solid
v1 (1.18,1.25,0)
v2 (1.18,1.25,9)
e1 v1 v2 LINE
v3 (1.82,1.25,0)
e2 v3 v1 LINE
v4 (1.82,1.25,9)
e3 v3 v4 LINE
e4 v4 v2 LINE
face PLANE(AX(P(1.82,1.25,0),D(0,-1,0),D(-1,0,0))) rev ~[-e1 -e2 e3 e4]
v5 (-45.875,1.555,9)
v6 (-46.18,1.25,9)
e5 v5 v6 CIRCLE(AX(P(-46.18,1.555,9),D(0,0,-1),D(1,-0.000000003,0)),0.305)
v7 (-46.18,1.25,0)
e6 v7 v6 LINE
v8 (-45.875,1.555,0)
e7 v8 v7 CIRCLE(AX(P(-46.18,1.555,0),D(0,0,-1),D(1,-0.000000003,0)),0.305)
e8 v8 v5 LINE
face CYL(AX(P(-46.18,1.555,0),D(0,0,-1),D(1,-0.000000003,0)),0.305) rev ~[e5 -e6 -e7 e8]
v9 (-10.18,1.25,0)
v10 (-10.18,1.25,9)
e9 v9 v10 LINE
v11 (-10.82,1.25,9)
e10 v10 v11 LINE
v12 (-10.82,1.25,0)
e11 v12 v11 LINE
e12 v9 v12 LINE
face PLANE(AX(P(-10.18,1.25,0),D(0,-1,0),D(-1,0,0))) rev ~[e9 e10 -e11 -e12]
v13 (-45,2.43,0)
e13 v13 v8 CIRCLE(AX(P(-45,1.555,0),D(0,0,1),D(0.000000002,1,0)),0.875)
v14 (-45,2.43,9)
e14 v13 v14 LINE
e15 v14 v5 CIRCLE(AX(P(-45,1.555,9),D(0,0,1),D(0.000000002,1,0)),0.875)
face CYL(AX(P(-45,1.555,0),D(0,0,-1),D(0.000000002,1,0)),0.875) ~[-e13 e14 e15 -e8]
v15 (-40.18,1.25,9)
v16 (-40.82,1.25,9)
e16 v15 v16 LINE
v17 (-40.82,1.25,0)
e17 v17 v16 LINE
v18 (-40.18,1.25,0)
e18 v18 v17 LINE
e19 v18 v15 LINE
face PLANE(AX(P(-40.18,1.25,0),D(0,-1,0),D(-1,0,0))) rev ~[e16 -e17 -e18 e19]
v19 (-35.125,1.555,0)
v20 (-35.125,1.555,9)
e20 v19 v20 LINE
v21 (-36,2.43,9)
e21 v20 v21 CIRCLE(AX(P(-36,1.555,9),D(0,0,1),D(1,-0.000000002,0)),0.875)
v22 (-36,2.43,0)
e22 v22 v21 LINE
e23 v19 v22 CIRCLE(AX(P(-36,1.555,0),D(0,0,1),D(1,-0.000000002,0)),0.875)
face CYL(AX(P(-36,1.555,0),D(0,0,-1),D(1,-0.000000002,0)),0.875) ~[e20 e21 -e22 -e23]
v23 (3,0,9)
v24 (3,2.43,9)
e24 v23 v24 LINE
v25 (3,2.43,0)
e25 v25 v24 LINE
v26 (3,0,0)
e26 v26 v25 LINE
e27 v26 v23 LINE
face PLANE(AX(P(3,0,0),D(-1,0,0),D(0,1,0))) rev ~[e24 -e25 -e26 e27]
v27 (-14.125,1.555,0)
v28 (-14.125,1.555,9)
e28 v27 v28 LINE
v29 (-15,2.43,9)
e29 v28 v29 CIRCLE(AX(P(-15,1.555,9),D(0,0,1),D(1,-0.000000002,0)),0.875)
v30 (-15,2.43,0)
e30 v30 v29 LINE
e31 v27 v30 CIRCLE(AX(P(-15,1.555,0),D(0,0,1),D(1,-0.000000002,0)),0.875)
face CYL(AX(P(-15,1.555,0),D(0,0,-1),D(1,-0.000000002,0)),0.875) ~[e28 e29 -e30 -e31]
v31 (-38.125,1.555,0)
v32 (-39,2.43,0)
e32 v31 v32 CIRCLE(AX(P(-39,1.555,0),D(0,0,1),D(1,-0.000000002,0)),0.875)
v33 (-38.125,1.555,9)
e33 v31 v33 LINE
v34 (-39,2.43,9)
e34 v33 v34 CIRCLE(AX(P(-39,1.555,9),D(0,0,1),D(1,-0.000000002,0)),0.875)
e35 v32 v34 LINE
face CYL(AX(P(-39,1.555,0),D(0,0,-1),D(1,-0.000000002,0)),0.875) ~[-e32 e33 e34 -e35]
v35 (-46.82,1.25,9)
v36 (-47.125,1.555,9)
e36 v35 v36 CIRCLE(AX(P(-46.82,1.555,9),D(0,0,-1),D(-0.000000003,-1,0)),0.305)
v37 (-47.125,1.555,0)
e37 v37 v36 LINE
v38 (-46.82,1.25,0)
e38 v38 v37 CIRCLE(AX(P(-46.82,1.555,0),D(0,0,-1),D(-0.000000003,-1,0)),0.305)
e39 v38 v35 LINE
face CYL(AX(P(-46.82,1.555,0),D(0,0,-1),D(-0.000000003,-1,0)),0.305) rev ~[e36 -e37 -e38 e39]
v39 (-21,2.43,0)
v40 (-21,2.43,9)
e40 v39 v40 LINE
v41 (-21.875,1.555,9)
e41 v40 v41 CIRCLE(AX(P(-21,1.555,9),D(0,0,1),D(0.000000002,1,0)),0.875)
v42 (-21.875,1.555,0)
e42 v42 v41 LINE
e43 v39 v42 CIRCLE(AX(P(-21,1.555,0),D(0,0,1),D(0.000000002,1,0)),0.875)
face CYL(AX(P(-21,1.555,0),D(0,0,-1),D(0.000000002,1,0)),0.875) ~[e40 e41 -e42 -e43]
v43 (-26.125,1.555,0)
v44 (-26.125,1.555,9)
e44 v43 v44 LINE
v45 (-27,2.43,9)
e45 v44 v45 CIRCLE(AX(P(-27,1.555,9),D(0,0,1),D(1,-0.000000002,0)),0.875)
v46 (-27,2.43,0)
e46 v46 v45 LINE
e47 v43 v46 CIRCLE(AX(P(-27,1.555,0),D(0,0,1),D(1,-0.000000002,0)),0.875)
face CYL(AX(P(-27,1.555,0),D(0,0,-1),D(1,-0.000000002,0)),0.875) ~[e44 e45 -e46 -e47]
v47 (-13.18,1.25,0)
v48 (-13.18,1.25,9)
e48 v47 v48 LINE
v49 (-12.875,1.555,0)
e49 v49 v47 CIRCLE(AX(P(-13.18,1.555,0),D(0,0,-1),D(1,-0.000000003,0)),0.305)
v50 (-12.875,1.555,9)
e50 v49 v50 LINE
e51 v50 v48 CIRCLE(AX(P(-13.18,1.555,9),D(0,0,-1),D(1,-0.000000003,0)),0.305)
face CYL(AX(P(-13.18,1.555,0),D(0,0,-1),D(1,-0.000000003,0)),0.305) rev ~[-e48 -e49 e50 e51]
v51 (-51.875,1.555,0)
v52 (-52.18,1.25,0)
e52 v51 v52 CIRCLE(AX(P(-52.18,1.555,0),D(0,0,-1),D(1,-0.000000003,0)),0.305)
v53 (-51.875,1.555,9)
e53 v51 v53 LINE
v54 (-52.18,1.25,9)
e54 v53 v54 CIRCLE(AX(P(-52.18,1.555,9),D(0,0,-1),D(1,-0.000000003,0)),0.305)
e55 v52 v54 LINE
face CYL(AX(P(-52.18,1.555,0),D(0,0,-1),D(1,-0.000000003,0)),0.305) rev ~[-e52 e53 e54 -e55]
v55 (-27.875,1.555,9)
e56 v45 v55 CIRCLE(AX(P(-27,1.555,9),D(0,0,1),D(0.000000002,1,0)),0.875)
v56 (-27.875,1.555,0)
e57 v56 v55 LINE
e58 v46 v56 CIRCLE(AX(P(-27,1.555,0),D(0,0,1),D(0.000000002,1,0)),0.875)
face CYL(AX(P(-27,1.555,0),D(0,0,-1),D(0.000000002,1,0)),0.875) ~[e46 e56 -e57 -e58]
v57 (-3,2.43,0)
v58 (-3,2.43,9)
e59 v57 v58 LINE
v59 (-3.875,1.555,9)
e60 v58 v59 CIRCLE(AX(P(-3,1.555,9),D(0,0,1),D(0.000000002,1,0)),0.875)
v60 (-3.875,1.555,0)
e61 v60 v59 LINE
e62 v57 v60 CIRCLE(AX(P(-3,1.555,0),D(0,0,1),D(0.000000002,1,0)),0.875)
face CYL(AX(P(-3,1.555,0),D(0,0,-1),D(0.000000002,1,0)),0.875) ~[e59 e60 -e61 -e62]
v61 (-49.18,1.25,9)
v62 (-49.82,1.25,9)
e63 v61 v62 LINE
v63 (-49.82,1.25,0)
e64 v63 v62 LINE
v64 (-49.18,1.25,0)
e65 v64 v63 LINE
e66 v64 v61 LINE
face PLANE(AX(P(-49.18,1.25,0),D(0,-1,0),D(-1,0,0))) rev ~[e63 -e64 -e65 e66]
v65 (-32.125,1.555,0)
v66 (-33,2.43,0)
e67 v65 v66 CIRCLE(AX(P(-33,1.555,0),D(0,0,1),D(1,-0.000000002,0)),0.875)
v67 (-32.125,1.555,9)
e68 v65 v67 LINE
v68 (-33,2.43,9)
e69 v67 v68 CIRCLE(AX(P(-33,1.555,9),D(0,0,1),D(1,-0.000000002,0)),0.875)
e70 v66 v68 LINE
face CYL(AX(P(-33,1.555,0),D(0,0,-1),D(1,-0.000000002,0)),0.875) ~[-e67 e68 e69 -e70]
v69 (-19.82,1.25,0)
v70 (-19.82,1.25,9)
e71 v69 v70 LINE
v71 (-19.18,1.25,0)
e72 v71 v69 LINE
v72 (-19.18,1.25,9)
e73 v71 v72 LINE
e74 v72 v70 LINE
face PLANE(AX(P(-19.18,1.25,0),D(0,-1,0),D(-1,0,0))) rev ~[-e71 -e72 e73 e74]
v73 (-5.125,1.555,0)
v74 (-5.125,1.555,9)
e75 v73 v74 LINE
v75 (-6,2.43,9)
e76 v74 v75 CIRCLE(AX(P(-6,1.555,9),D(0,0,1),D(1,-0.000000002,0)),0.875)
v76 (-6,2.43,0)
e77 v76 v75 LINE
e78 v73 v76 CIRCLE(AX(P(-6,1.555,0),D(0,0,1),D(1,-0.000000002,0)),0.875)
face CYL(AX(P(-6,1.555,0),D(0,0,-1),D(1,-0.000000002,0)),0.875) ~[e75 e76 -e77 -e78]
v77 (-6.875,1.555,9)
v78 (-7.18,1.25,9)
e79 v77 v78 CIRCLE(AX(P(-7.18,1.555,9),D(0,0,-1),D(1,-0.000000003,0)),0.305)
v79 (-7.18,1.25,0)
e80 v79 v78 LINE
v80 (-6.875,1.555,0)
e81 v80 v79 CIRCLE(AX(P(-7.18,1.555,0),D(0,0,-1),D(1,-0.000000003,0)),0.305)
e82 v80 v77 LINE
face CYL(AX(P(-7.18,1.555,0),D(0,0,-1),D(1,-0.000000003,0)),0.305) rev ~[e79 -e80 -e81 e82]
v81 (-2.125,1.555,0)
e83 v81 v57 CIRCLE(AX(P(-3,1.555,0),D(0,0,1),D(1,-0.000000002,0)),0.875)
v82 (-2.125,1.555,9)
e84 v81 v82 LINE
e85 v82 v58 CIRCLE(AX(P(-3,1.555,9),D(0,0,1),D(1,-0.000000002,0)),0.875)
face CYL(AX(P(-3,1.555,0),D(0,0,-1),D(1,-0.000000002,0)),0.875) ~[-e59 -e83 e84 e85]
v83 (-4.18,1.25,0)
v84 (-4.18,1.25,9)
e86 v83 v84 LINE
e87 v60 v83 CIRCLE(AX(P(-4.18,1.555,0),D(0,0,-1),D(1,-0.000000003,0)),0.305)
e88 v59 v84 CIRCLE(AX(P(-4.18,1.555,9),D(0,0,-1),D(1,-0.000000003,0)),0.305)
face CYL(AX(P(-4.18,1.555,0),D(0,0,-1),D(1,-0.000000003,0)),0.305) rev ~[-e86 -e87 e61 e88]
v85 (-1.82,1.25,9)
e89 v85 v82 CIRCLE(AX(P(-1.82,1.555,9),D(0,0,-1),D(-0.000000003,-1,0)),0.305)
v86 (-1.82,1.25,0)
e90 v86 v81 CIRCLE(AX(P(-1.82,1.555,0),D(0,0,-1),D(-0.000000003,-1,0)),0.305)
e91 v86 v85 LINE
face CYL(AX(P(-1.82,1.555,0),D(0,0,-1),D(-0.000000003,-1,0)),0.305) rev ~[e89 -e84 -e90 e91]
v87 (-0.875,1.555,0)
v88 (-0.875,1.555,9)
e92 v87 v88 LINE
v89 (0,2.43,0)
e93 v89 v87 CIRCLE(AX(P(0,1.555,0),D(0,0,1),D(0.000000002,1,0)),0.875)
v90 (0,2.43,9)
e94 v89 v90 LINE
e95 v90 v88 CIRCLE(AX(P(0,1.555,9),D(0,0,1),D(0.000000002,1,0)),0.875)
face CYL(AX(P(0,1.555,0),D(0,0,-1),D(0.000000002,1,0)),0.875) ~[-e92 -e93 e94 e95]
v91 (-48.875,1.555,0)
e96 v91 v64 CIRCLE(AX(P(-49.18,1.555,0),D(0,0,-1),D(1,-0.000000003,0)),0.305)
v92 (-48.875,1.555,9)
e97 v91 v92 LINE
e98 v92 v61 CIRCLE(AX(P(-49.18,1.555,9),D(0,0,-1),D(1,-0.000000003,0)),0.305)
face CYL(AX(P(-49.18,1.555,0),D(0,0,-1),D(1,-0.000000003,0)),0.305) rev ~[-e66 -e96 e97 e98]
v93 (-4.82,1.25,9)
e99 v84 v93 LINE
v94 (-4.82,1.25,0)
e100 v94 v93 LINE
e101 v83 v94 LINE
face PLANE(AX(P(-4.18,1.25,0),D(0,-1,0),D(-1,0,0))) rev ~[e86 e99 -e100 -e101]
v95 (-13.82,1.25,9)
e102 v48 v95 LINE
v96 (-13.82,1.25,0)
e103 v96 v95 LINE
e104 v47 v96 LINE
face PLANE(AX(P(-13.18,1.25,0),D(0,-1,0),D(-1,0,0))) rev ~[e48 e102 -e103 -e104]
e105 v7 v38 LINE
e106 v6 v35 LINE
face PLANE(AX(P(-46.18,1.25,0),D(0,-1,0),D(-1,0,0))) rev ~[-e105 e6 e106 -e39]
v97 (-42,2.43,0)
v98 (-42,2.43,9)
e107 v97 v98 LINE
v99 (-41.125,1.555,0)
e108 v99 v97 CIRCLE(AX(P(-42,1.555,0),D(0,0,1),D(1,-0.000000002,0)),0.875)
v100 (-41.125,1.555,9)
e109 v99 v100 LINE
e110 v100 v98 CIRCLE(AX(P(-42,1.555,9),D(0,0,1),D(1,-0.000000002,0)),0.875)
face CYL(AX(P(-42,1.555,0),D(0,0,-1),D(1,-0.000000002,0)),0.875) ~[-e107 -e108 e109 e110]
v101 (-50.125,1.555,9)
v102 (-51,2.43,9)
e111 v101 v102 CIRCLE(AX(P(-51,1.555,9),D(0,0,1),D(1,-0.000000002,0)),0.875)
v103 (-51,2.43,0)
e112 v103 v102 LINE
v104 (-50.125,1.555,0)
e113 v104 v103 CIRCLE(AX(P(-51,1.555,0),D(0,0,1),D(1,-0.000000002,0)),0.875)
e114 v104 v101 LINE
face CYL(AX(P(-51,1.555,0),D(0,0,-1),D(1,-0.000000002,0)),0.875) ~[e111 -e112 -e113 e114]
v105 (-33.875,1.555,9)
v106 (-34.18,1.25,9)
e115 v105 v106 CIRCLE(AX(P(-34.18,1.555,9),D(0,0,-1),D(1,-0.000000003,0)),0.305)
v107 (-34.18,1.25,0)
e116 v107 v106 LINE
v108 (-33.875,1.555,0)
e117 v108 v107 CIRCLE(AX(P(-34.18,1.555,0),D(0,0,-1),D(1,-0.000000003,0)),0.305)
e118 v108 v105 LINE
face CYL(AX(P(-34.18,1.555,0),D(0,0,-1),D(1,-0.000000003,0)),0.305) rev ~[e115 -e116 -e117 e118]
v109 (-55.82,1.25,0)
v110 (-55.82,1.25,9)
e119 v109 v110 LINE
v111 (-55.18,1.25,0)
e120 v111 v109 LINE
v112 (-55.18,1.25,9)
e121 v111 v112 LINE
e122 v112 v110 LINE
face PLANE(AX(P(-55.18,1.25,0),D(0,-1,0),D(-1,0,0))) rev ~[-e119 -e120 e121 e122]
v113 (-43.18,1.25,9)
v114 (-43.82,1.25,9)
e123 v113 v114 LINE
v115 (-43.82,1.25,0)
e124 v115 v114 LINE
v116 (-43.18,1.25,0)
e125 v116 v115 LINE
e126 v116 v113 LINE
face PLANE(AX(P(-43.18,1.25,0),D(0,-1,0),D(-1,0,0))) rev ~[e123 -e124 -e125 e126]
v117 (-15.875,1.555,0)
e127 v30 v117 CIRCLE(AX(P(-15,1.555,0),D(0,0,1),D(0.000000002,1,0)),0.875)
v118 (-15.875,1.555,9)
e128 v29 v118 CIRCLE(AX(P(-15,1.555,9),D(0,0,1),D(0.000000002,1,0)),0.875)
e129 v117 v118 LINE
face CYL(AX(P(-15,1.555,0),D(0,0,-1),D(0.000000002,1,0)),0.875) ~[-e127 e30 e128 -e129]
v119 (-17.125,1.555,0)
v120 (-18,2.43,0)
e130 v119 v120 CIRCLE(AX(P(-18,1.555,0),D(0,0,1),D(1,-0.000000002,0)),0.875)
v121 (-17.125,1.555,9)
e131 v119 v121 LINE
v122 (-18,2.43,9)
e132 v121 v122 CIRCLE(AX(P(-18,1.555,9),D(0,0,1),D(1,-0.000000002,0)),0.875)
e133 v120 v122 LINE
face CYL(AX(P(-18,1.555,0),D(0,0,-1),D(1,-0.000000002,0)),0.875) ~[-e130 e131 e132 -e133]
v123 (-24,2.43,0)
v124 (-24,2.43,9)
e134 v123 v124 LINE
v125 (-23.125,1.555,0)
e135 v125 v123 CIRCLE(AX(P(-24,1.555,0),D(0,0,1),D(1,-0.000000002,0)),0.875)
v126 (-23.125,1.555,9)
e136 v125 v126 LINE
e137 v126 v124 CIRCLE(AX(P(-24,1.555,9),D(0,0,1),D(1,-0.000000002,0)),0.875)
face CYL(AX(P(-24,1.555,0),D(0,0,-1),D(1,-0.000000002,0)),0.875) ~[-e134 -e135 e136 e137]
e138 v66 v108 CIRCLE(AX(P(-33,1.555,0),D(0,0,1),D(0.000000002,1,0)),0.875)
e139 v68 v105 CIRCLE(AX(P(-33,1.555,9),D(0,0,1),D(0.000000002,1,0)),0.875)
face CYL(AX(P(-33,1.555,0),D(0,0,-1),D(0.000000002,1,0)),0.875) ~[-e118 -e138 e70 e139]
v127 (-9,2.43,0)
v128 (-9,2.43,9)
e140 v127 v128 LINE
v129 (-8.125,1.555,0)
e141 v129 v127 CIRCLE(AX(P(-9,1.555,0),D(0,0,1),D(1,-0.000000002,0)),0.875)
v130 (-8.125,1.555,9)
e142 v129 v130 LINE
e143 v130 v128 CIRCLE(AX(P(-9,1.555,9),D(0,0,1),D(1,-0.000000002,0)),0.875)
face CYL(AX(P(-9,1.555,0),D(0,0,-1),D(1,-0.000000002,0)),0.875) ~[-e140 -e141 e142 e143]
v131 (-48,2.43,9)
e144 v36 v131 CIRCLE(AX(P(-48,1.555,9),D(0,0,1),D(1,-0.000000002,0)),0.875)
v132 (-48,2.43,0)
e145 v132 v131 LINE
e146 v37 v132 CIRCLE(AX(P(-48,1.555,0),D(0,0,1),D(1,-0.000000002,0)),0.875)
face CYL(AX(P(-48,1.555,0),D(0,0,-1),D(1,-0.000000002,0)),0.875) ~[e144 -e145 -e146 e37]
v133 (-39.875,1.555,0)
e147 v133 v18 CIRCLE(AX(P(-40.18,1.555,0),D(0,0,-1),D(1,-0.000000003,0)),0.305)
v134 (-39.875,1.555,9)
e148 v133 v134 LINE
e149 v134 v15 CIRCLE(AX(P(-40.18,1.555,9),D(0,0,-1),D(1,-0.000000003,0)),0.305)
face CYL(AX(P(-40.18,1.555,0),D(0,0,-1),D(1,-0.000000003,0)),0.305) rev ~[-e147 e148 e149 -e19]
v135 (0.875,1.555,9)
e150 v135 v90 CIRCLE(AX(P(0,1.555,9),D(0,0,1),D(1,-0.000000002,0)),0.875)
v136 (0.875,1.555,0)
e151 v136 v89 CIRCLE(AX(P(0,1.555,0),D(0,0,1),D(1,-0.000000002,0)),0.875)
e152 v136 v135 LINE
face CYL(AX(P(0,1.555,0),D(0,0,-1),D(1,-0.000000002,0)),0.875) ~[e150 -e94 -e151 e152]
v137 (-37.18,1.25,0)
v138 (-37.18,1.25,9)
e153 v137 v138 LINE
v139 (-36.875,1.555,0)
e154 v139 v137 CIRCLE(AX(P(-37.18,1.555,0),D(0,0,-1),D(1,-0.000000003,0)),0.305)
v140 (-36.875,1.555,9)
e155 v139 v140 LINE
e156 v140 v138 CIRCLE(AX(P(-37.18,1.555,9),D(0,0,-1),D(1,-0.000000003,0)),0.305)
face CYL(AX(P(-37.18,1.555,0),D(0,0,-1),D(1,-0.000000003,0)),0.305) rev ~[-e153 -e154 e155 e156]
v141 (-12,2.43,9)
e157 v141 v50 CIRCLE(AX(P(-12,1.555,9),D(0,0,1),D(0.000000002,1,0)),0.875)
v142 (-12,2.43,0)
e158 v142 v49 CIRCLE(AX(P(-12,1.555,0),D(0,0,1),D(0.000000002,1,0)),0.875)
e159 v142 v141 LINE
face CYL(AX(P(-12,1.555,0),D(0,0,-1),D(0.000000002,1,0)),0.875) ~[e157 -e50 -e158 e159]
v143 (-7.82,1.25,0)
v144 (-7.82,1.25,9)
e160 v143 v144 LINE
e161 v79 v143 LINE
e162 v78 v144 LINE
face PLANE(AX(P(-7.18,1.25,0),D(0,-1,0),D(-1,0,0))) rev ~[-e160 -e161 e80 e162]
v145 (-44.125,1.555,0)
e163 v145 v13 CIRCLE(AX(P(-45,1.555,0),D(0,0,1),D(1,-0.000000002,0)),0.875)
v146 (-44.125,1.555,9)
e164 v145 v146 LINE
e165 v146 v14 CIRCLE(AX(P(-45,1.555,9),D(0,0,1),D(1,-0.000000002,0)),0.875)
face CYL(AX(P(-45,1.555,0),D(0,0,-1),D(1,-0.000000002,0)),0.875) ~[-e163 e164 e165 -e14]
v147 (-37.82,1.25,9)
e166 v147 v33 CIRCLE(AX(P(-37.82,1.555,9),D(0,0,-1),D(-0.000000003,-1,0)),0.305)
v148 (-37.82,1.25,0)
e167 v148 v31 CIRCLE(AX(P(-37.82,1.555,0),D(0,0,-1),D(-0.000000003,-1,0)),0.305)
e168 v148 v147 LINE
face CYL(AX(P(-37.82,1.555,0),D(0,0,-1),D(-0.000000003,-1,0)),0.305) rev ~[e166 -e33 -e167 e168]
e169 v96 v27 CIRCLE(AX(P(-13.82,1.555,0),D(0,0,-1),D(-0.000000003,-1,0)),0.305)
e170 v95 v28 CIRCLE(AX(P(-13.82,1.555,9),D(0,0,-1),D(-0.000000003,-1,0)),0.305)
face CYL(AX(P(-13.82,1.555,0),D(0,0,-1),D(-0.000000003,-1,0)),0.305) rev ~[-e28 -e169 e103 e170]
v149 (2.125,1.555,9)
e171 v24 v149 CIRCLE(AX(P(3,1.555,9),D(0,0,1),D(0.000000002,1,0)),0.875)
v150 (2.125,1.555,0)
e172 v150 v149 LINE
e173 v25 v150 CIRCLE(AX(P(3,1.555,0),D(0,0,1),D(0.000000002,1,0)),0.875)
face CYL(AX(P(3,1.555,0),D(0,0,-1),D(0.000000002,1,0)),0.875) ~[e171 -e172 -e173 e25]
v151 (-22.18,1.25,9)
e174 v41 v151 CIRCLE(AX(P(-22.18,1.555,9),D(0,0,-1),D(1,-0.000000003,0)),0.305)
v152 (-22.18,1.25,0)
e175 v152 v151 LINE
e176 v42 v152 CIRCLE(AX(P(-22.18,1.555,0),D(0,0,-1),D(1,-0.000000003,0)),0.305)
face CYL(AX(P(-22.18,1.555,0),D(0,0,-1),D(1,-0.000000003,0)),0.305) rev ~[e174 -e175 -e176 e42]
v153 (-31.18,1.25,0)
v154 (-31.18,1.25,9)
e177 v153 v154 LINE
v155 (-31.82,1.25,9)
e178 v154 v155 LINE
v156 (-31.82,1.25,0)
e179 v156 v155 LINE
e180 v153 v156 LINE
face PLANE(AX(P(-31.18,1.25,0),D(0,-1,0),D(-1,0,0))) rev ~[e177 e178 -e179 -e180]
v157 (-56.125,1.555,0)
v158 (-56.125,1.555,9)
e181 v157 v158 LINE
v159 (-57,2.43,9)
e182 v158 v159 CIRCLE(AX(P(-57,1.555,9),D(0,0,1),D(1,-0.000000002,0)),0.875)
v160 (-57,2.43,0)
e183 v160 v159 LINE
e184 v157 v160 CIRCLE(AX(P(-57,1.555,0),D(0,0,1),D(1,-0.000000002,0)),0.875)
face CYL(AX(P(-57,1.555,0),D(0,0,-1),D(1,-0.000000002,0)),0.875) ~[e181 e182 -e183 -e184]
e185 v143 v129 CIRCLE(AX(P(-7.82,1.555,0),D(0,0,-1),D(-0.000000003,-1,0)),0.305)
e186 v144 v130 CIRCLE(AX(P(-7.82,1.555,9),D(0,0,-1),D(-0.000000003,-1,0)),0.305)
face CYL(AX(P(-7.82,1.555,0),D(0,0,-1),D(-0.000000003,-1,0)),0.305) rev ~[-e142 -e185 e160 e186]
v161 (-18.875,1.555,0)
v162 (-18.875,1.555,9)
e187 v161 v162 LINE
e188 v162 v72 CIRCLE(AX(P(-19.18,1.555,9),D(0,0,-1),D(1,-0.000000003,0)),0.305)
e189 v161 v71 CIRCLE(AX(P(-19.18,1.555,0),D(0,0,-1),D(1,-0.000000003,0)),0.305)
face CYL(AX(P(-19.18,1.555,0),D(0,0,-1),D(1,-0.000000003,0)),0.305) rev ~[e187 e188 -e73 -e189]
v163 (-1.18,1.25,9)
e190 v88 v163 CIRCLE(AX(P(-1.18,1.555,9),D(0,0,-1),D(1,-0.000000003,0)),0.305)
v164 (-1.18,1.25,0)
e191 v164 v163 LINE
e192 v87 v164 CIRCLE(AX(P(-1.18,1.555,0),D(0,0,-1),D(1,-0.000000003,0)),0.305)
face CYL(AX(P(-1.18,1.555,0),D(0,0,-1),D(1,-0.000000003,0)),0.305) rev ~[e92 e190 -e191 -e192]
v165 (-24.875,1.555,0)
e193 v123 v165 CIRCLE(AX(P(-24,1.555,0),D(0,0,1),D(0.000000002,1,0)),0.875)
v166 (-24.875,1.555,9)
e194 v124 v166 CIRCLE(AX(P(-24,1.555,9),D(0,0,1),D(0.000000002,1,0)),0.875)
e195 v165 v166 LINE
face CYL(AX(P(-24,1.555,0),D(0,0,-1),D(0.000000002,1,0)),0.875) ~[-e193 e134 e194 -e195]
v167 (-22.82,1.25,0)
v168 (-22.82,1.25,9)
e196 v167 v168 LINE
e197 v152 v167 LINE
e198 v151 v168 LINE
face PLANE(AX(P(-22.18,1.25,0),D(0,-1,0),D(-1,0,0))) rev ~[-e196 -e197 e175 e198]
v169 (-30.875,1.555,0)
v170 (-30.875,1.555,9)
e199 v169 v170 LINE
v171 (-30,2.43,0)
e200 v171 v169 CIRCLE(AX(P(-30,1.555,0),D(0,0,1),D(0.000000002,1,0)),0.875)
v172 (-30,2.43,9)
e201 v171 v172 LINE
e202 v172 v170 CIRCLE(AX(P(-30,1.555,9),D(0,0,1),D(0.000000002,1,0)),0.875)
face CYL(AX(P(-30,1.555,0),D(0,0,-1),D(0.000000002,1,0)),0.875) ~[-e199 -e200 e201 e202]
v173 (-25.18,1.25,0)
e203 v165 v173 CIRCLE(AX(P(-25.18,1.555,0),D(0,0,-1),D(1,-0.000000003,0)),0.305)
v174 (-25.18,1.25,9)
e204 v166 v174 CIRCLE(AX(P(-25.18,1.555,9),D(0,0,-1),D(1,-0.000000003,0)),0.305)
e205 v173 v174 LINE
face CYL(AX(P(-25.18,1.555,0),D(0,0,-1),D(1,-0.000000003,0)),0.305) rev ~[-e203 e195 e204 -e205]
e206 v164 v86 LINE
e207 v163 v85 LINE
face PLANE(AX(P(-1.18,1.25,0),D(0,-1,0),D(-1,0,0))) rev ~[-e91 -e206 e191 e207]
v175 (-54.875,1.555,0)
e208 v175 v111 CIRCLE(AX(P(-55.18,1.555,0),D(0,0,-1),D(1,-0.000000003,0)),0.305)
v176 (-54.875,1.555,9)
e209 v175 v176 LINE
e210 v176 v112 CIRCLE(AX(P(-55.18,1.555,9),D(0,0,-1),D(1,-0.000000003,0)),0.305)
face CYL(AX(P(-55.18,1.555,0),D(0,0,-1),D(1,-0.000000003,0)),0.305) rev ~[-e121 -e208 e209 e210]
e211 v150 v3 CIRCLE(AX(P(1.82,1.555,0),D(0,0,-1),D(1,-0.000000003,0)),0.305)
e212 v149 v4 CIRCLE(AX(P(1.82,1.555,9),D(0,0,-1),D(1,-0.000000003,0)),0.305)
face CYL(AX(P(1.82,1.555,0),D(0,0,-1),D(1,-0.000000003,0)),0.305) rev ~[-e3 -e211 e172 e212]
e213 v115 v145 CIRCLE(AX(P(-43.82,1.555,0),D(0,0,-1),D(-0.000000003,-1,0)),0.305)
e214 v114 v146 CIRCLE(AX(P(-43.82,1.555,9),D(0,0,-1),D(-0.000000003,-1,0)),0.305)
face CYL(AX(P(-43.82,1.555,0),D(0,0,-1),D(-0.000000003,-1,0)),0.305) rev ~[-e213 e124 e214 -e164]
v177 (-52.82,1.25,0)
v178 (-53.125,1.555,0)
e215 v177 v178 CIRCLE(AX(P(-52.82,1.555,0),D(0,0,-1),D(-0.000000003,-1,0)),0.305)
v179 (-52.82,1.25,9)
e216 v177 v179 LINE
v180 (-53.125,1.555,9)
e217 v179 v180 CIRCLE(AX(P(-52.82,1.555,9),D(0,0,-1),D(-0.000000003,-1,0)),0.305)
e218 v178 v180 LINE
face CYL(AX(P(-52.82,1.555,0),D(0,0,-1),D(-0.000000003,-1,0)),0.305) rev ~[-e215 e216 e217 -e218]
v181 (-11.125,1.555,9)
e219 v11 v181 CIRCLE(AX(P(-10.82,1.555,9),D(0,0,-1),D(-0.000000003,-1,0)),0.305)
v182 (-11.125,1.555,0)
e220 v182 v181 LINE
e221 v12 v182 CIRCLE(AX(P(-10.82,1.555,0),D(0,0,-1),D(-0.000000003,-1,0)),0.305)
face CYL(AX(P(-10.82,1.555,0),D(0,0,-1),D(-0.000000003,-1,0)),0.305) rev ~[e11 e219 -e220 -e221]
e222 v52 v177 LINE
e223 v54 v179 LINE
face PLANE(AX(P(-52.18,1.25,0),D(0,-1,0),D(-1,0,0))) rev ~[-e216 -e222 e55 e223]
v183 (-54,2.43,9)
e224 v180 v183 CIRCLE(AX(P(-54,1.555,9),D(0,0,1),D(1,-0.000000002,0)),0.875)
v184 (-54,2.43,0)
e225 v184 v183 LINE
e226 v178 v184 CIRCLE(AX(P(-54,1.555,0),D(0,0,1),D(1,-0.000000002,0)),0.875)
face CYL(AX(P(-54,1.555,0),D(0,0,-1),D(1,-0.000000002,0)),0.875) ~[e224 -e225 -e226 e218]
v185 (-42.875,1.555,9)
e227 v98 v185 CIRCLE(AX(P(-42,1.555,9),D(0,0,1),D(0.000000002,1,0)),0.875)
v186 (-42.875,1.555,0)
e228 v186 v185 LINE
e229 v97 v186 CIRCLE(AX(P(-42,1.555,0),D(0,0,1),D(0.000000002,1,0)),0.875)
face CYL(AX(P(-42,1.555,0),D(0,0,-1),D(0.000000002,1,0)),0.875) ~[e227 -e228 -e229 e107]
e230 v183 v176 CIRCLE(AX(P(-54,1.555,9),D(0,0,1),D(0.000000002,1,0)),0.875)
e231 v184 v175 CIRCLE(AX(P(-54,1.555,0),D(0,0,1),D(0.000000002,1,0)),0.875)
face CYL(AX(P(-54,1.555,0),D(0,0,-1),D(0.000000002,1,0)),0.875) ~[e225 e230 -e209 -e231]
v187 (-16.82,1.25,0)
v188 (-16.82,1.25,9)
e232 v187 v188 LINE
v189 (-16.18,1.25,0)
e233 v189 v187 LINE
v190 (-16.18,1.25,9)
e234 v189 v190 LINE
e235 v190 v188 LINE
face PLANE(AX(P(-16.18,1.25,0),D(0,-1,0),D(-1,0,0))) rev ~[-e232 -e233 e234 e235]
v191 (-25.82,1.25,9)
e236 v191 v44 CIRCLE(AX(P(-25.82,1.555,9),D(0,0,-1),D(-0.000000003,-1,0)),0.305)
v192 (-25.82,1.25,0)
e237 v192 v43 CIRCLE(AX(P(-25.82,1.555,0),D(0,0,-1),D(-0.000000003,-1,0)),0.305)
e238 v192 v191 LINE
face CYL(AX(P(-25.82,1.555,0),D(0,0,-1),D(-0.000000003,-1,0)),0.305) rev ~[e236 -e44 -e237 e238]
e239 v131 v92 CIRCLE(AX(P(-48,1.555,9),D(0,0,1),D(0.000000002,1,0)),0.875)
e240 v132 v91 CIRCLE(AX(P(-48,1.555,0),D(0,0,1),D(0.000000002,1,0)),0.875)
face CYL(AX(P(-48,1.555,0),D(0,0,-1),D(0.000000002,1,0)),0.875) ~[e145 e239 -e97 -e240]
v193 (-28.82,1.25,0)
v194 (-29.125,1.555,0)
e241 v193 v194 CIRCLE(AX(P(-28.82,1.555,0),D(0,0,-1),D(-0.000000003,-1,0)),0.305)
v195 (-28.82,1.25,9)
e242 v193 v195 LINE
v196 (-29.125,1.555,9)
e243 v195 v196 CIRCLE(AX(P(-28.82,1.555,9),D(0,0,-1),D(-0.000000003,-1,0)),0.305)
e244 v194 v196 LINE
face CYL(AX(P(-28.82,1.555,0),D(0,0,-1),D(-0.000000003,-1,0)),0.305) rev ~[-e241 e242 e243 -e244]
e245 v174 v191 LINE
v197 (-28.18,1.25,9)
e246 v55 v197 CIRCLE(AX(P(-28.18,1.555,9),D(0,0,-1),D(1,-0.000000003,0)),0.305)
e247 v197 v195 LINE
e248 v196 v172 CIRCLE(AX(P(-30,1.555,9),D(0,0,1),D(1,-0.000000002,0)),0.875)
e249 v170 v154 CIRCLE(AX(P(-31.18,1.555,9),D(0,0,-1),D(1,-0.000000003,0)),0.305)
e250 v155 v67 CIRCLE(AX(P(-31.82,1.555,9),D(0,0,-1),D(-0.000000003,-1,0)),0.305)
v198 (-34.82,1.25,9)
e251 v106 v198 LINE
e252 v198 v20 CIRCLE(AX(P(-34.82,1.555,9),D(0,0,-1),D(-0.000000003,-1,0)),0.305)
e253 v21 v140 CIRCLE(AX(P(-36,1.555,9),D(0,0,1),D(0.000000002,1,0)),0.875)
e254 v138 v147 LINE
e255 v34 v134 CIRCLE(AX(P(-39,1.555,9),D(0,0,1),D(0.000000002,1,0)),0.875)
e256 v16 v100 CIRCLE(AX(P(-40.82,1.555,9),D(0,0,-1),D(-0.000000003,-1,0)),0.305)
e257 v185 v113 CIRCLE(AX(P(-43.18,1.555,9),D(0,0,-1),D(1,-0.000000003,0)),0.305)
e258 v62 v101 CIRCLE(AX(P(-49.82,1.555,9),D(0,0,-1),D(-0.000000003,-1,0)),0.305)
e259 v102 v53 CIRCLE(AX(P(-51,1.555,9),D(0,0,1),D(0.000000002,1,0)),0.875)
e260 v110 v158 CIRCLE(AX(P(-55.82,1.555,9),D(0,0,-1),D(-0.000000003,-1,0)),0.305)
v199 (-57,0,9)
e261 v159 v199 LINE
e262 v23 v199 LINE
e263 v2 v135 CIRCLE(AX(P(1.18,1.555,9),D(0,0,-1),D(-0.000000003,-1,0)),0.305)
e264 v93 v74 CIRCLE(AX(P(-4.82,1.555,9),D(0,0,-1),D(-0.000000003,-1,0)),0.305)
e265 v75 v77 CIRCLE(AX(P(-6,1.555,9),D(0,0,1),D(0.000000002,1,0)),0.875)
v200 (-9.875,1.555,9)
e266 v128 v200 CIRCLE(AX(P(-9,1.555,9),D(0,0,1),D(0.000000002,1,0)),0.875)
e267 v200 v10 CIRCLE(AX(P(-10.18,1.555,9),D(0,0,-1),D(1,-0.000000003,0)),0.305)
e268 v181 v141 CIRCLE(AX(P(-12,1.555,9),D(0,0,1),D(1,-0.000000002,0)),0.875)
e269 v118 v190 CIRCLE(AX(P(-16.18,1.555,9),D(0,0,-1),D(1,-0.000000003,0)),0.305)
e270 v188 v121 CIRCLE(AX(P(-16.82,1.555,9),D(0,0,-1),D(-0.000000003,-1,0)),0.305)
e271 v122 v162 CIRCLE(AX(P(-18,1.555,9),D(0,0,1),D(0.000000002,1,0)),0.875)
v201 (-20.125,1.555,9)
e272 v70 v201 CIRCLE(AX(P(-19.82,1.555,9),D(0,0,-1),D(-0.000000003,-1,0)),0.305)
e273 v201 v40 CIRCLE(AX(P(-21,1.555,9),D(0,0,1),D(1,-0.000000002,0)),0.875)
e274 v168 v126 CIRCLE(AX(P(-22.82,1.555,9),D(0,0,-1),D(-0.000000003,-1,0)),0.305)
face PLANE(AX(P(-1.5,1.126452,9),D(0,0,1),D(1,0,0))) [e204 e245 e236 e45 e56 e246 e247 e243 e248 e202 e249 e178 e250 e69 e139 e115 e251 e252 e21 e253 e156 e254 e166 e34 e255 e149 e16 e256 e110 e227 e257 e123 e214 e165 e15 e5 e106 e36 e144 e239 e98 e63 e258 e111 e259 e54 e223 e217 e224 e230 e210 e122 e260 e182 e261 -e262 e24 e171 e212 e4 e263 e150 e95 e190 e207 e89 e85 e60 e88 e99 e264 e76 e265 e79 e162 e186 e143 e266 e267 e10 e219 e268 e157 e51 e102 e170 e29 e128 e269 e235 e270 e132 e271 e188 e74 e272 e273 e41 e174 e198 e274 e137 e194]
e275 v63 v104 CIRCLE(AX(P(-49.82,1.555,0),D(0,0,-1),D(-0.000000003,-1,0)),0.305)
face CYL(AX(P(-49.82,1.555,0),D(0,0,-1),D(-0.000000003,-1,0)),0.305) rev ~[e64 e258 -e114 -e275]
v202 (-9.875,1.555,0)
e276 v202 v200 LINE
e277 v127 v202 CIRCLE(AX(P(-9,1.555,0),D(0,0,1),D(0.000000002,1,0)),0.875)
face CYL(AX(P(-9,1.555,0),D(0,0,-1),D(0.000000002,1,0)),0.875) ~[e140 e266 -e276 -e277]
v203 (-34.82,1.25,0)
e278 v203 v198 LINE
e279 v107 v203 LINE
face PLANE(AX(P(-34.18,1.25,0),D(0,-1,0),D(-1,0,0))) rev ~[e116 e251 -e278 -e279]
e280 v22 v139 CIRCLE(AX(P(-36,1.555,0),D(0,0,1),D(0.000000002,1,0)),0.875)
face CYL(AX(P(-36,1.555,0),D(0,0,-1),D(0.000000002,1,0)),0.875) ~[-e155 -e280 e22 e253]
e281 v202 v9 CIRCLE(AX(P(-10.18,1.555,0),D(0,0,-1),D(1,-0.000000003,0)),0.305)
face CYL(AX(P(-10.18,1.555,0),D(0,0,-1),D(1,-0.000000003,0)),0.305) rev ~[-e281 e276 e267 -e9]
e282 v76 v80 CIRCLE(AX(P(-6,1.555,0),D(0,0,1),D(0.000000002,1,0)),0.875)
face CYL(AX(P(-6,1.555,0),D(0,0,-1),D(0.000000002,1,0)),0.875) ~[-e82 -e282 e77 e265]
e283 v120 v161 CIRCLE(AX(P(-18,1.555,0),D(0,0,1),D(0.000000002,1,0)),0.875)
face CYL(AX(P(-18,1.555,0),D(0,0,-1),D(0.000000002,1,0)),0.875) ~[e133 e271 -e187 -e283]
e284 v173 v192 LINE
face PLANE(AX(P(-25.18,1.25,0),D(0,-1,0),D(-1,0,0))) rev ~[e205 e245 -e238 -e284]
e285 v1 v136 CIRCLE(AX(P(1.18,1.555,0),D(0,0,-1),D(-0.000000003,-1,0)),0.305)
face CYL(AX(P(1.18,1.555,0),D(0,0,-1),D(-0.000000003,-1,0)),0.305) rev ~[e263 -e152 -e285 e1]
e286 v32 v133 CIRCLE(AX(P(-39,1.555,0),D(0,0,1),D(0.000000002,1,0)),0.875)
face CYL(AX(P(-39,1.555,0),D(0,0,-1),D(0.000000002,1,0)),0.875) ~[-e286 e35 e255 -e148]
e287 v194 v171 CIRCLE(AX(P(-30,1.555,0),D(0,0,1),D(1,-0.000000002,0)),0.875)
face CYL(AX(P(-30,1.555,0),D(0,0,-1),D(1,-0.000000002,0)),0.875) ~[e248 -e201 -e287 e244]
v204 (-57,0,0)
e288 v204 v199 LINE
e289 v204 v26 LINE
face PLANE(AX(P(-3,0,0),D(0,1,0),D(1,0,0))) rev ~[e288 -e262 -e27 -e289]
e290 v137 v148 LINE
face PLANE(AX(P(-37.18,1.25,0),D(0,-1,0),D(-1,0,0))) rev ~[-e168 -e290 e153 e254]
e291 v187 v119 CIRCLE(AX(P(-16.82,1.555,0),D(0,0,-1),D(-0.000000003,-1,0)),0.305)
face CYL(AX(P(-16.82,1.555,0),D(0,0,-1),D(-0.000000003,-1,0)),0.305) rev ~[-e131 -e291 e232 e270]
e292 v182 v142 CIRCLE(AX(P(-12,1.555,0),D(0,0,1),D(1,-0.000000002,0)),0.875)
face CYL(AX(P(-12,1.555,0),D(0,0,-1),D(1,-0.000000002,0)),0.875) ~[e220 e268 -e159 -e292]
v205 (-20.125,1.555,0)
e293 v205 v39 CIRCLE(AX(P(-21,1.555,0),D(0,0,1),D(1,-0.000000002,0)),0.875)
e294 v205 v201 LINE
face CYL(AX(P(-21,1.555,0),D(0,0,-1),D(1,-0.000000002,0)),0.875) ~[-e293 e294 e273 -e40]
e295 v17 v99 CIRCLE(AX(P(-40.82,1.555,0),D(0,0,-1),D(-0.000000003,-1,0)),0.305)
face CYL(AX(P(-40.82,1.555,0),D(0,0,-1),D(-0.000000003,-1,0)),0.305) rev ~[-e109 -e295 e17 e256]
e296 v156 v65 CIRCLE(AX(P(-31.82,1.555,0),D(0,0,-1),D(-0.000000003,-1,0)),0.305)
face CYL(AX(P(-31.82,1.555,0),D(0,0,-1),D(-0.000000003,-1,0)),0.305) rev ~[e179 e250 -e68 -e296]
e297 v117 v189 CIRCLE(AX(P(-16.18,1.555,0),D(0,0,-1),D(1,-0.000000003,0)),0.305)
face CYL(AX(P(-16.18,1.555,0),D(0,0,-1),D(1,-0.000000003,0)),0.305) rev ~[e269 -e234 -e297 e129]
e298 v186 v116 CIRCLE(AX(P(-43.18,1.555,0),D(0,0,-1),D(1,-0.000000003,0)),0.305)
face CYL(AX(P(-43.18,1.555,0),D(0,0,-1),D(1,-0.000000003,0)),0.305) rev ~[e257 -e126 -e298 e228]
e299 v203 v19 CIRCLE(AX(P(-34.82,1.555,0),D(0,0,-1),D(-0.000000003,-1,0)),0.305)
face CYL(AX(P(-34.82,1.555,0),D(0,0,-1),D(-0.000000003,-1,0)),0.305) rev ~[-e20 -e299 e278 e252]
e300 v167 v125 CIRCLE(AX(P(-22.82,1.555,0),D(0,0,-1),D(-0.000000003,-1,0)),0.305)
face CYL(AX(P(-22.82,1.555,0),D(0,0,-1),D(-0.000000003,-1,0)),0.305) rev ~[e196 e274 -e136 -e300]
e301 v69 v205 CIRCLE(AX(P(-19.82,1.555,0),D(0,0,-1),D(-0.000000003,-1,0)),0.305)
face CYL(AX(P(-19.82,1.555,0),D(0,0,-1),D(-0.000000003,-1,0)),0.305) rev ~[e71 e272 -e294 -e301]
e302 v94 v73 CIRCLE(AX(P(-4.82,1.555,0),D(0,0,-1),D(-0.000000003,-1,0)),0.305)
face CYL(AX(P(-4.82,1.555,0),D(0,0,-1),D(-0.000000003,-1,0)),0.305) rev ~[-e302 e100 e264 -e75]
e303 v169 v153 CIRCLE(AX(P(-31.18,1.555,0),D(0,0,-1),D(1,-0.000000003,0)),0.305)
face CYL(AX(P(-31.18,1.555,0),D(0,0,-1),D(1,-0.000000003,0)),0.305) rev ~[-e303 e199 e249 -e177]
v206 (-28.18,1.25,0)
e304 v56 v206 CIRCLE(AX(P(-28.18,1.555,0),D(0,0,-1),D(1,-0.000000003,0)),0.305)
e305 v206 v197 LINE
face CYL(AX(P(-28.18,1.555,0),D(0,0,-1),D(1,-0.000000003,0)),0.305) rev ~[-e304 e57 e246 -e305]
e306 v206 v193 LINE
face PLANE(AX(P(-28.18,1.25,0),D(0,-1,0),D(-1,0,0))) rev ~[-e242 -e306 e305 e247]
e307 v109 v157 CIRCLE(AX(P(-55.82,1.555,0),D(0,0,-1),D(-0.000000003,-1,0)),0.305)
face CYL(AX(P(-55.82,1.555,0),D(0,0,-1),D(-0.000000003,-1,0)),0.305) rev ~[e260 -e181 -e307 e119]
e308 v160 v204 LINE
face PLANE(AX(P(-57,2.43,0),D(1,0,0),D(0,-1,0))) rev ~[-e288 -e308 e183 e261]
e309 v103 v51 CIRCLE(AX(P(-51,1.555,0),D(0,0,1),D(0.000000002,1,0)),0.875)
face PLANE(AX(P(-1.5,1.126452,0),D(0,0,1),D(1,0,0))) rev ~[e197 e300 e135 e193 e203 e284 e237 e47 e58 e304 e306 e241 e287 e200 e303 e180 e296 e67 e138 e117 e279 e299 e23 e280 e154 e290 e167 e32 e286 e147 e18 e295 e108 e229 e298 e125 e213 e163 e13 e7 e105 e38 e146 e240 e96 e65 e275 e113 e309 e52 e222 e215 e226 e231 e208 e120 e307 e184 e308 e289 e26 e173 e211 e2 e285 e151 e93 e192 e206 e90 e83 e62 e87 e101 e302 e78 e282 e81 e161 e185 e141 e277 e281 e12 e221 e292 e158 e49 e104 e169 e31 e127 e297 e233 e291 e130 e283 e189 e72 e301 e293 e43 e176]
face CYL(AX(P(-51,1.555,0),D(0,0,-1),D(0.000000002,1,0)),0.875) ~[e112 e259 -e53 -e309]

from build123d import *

# Parameters (mm, degrees)
BOSS_EXTRUDE1_DEPTH = 9
LPATTERN1_COUNT     = 20
LPATTERN1_PITCH     = 3


with BuildPart() as part:
    # Sketch1 → Boss-Extrude1 (new body)
    with BuildSketch(Plane.XY):
        with BuildLine():
            Line((0, 0), (3, 0))
            Line((3, 0), (3, 2.43))
            ThreePointArc((3, 2.43), (2.381281566, 2.173718434), (2.125, 1.555))
            ThreePointArc((2.125, 1.555), (2.035667568, 1.339332432), (1.82, 1.25))
            Line((1.82, 1.25), (1.18, 1.25))
            ThreePointArc((1.18, 1.25), (0.964332432, 1.339332432), (0.875, 1.555))
            ThreePointArc((0.875, 1.555), (0.618718434, 2.173718434), (0, 2.43))
            Line((0, 2.43), (0, 1.25))
            Line((0, 1.25), (0, 0))
        make_face()
    boss_extrude1 = extrude(amount=BOSS_EXTRUDE1_DEPTH)

    # LPattern1: Boss-Extrude1 ×20
    with Locations(*[(-i * LPATTERN1_PITCH, 0, 0) for i in range(1, LPATTERN1_COUNT)]):
        add(boss_extrude1)


solid = part.part
